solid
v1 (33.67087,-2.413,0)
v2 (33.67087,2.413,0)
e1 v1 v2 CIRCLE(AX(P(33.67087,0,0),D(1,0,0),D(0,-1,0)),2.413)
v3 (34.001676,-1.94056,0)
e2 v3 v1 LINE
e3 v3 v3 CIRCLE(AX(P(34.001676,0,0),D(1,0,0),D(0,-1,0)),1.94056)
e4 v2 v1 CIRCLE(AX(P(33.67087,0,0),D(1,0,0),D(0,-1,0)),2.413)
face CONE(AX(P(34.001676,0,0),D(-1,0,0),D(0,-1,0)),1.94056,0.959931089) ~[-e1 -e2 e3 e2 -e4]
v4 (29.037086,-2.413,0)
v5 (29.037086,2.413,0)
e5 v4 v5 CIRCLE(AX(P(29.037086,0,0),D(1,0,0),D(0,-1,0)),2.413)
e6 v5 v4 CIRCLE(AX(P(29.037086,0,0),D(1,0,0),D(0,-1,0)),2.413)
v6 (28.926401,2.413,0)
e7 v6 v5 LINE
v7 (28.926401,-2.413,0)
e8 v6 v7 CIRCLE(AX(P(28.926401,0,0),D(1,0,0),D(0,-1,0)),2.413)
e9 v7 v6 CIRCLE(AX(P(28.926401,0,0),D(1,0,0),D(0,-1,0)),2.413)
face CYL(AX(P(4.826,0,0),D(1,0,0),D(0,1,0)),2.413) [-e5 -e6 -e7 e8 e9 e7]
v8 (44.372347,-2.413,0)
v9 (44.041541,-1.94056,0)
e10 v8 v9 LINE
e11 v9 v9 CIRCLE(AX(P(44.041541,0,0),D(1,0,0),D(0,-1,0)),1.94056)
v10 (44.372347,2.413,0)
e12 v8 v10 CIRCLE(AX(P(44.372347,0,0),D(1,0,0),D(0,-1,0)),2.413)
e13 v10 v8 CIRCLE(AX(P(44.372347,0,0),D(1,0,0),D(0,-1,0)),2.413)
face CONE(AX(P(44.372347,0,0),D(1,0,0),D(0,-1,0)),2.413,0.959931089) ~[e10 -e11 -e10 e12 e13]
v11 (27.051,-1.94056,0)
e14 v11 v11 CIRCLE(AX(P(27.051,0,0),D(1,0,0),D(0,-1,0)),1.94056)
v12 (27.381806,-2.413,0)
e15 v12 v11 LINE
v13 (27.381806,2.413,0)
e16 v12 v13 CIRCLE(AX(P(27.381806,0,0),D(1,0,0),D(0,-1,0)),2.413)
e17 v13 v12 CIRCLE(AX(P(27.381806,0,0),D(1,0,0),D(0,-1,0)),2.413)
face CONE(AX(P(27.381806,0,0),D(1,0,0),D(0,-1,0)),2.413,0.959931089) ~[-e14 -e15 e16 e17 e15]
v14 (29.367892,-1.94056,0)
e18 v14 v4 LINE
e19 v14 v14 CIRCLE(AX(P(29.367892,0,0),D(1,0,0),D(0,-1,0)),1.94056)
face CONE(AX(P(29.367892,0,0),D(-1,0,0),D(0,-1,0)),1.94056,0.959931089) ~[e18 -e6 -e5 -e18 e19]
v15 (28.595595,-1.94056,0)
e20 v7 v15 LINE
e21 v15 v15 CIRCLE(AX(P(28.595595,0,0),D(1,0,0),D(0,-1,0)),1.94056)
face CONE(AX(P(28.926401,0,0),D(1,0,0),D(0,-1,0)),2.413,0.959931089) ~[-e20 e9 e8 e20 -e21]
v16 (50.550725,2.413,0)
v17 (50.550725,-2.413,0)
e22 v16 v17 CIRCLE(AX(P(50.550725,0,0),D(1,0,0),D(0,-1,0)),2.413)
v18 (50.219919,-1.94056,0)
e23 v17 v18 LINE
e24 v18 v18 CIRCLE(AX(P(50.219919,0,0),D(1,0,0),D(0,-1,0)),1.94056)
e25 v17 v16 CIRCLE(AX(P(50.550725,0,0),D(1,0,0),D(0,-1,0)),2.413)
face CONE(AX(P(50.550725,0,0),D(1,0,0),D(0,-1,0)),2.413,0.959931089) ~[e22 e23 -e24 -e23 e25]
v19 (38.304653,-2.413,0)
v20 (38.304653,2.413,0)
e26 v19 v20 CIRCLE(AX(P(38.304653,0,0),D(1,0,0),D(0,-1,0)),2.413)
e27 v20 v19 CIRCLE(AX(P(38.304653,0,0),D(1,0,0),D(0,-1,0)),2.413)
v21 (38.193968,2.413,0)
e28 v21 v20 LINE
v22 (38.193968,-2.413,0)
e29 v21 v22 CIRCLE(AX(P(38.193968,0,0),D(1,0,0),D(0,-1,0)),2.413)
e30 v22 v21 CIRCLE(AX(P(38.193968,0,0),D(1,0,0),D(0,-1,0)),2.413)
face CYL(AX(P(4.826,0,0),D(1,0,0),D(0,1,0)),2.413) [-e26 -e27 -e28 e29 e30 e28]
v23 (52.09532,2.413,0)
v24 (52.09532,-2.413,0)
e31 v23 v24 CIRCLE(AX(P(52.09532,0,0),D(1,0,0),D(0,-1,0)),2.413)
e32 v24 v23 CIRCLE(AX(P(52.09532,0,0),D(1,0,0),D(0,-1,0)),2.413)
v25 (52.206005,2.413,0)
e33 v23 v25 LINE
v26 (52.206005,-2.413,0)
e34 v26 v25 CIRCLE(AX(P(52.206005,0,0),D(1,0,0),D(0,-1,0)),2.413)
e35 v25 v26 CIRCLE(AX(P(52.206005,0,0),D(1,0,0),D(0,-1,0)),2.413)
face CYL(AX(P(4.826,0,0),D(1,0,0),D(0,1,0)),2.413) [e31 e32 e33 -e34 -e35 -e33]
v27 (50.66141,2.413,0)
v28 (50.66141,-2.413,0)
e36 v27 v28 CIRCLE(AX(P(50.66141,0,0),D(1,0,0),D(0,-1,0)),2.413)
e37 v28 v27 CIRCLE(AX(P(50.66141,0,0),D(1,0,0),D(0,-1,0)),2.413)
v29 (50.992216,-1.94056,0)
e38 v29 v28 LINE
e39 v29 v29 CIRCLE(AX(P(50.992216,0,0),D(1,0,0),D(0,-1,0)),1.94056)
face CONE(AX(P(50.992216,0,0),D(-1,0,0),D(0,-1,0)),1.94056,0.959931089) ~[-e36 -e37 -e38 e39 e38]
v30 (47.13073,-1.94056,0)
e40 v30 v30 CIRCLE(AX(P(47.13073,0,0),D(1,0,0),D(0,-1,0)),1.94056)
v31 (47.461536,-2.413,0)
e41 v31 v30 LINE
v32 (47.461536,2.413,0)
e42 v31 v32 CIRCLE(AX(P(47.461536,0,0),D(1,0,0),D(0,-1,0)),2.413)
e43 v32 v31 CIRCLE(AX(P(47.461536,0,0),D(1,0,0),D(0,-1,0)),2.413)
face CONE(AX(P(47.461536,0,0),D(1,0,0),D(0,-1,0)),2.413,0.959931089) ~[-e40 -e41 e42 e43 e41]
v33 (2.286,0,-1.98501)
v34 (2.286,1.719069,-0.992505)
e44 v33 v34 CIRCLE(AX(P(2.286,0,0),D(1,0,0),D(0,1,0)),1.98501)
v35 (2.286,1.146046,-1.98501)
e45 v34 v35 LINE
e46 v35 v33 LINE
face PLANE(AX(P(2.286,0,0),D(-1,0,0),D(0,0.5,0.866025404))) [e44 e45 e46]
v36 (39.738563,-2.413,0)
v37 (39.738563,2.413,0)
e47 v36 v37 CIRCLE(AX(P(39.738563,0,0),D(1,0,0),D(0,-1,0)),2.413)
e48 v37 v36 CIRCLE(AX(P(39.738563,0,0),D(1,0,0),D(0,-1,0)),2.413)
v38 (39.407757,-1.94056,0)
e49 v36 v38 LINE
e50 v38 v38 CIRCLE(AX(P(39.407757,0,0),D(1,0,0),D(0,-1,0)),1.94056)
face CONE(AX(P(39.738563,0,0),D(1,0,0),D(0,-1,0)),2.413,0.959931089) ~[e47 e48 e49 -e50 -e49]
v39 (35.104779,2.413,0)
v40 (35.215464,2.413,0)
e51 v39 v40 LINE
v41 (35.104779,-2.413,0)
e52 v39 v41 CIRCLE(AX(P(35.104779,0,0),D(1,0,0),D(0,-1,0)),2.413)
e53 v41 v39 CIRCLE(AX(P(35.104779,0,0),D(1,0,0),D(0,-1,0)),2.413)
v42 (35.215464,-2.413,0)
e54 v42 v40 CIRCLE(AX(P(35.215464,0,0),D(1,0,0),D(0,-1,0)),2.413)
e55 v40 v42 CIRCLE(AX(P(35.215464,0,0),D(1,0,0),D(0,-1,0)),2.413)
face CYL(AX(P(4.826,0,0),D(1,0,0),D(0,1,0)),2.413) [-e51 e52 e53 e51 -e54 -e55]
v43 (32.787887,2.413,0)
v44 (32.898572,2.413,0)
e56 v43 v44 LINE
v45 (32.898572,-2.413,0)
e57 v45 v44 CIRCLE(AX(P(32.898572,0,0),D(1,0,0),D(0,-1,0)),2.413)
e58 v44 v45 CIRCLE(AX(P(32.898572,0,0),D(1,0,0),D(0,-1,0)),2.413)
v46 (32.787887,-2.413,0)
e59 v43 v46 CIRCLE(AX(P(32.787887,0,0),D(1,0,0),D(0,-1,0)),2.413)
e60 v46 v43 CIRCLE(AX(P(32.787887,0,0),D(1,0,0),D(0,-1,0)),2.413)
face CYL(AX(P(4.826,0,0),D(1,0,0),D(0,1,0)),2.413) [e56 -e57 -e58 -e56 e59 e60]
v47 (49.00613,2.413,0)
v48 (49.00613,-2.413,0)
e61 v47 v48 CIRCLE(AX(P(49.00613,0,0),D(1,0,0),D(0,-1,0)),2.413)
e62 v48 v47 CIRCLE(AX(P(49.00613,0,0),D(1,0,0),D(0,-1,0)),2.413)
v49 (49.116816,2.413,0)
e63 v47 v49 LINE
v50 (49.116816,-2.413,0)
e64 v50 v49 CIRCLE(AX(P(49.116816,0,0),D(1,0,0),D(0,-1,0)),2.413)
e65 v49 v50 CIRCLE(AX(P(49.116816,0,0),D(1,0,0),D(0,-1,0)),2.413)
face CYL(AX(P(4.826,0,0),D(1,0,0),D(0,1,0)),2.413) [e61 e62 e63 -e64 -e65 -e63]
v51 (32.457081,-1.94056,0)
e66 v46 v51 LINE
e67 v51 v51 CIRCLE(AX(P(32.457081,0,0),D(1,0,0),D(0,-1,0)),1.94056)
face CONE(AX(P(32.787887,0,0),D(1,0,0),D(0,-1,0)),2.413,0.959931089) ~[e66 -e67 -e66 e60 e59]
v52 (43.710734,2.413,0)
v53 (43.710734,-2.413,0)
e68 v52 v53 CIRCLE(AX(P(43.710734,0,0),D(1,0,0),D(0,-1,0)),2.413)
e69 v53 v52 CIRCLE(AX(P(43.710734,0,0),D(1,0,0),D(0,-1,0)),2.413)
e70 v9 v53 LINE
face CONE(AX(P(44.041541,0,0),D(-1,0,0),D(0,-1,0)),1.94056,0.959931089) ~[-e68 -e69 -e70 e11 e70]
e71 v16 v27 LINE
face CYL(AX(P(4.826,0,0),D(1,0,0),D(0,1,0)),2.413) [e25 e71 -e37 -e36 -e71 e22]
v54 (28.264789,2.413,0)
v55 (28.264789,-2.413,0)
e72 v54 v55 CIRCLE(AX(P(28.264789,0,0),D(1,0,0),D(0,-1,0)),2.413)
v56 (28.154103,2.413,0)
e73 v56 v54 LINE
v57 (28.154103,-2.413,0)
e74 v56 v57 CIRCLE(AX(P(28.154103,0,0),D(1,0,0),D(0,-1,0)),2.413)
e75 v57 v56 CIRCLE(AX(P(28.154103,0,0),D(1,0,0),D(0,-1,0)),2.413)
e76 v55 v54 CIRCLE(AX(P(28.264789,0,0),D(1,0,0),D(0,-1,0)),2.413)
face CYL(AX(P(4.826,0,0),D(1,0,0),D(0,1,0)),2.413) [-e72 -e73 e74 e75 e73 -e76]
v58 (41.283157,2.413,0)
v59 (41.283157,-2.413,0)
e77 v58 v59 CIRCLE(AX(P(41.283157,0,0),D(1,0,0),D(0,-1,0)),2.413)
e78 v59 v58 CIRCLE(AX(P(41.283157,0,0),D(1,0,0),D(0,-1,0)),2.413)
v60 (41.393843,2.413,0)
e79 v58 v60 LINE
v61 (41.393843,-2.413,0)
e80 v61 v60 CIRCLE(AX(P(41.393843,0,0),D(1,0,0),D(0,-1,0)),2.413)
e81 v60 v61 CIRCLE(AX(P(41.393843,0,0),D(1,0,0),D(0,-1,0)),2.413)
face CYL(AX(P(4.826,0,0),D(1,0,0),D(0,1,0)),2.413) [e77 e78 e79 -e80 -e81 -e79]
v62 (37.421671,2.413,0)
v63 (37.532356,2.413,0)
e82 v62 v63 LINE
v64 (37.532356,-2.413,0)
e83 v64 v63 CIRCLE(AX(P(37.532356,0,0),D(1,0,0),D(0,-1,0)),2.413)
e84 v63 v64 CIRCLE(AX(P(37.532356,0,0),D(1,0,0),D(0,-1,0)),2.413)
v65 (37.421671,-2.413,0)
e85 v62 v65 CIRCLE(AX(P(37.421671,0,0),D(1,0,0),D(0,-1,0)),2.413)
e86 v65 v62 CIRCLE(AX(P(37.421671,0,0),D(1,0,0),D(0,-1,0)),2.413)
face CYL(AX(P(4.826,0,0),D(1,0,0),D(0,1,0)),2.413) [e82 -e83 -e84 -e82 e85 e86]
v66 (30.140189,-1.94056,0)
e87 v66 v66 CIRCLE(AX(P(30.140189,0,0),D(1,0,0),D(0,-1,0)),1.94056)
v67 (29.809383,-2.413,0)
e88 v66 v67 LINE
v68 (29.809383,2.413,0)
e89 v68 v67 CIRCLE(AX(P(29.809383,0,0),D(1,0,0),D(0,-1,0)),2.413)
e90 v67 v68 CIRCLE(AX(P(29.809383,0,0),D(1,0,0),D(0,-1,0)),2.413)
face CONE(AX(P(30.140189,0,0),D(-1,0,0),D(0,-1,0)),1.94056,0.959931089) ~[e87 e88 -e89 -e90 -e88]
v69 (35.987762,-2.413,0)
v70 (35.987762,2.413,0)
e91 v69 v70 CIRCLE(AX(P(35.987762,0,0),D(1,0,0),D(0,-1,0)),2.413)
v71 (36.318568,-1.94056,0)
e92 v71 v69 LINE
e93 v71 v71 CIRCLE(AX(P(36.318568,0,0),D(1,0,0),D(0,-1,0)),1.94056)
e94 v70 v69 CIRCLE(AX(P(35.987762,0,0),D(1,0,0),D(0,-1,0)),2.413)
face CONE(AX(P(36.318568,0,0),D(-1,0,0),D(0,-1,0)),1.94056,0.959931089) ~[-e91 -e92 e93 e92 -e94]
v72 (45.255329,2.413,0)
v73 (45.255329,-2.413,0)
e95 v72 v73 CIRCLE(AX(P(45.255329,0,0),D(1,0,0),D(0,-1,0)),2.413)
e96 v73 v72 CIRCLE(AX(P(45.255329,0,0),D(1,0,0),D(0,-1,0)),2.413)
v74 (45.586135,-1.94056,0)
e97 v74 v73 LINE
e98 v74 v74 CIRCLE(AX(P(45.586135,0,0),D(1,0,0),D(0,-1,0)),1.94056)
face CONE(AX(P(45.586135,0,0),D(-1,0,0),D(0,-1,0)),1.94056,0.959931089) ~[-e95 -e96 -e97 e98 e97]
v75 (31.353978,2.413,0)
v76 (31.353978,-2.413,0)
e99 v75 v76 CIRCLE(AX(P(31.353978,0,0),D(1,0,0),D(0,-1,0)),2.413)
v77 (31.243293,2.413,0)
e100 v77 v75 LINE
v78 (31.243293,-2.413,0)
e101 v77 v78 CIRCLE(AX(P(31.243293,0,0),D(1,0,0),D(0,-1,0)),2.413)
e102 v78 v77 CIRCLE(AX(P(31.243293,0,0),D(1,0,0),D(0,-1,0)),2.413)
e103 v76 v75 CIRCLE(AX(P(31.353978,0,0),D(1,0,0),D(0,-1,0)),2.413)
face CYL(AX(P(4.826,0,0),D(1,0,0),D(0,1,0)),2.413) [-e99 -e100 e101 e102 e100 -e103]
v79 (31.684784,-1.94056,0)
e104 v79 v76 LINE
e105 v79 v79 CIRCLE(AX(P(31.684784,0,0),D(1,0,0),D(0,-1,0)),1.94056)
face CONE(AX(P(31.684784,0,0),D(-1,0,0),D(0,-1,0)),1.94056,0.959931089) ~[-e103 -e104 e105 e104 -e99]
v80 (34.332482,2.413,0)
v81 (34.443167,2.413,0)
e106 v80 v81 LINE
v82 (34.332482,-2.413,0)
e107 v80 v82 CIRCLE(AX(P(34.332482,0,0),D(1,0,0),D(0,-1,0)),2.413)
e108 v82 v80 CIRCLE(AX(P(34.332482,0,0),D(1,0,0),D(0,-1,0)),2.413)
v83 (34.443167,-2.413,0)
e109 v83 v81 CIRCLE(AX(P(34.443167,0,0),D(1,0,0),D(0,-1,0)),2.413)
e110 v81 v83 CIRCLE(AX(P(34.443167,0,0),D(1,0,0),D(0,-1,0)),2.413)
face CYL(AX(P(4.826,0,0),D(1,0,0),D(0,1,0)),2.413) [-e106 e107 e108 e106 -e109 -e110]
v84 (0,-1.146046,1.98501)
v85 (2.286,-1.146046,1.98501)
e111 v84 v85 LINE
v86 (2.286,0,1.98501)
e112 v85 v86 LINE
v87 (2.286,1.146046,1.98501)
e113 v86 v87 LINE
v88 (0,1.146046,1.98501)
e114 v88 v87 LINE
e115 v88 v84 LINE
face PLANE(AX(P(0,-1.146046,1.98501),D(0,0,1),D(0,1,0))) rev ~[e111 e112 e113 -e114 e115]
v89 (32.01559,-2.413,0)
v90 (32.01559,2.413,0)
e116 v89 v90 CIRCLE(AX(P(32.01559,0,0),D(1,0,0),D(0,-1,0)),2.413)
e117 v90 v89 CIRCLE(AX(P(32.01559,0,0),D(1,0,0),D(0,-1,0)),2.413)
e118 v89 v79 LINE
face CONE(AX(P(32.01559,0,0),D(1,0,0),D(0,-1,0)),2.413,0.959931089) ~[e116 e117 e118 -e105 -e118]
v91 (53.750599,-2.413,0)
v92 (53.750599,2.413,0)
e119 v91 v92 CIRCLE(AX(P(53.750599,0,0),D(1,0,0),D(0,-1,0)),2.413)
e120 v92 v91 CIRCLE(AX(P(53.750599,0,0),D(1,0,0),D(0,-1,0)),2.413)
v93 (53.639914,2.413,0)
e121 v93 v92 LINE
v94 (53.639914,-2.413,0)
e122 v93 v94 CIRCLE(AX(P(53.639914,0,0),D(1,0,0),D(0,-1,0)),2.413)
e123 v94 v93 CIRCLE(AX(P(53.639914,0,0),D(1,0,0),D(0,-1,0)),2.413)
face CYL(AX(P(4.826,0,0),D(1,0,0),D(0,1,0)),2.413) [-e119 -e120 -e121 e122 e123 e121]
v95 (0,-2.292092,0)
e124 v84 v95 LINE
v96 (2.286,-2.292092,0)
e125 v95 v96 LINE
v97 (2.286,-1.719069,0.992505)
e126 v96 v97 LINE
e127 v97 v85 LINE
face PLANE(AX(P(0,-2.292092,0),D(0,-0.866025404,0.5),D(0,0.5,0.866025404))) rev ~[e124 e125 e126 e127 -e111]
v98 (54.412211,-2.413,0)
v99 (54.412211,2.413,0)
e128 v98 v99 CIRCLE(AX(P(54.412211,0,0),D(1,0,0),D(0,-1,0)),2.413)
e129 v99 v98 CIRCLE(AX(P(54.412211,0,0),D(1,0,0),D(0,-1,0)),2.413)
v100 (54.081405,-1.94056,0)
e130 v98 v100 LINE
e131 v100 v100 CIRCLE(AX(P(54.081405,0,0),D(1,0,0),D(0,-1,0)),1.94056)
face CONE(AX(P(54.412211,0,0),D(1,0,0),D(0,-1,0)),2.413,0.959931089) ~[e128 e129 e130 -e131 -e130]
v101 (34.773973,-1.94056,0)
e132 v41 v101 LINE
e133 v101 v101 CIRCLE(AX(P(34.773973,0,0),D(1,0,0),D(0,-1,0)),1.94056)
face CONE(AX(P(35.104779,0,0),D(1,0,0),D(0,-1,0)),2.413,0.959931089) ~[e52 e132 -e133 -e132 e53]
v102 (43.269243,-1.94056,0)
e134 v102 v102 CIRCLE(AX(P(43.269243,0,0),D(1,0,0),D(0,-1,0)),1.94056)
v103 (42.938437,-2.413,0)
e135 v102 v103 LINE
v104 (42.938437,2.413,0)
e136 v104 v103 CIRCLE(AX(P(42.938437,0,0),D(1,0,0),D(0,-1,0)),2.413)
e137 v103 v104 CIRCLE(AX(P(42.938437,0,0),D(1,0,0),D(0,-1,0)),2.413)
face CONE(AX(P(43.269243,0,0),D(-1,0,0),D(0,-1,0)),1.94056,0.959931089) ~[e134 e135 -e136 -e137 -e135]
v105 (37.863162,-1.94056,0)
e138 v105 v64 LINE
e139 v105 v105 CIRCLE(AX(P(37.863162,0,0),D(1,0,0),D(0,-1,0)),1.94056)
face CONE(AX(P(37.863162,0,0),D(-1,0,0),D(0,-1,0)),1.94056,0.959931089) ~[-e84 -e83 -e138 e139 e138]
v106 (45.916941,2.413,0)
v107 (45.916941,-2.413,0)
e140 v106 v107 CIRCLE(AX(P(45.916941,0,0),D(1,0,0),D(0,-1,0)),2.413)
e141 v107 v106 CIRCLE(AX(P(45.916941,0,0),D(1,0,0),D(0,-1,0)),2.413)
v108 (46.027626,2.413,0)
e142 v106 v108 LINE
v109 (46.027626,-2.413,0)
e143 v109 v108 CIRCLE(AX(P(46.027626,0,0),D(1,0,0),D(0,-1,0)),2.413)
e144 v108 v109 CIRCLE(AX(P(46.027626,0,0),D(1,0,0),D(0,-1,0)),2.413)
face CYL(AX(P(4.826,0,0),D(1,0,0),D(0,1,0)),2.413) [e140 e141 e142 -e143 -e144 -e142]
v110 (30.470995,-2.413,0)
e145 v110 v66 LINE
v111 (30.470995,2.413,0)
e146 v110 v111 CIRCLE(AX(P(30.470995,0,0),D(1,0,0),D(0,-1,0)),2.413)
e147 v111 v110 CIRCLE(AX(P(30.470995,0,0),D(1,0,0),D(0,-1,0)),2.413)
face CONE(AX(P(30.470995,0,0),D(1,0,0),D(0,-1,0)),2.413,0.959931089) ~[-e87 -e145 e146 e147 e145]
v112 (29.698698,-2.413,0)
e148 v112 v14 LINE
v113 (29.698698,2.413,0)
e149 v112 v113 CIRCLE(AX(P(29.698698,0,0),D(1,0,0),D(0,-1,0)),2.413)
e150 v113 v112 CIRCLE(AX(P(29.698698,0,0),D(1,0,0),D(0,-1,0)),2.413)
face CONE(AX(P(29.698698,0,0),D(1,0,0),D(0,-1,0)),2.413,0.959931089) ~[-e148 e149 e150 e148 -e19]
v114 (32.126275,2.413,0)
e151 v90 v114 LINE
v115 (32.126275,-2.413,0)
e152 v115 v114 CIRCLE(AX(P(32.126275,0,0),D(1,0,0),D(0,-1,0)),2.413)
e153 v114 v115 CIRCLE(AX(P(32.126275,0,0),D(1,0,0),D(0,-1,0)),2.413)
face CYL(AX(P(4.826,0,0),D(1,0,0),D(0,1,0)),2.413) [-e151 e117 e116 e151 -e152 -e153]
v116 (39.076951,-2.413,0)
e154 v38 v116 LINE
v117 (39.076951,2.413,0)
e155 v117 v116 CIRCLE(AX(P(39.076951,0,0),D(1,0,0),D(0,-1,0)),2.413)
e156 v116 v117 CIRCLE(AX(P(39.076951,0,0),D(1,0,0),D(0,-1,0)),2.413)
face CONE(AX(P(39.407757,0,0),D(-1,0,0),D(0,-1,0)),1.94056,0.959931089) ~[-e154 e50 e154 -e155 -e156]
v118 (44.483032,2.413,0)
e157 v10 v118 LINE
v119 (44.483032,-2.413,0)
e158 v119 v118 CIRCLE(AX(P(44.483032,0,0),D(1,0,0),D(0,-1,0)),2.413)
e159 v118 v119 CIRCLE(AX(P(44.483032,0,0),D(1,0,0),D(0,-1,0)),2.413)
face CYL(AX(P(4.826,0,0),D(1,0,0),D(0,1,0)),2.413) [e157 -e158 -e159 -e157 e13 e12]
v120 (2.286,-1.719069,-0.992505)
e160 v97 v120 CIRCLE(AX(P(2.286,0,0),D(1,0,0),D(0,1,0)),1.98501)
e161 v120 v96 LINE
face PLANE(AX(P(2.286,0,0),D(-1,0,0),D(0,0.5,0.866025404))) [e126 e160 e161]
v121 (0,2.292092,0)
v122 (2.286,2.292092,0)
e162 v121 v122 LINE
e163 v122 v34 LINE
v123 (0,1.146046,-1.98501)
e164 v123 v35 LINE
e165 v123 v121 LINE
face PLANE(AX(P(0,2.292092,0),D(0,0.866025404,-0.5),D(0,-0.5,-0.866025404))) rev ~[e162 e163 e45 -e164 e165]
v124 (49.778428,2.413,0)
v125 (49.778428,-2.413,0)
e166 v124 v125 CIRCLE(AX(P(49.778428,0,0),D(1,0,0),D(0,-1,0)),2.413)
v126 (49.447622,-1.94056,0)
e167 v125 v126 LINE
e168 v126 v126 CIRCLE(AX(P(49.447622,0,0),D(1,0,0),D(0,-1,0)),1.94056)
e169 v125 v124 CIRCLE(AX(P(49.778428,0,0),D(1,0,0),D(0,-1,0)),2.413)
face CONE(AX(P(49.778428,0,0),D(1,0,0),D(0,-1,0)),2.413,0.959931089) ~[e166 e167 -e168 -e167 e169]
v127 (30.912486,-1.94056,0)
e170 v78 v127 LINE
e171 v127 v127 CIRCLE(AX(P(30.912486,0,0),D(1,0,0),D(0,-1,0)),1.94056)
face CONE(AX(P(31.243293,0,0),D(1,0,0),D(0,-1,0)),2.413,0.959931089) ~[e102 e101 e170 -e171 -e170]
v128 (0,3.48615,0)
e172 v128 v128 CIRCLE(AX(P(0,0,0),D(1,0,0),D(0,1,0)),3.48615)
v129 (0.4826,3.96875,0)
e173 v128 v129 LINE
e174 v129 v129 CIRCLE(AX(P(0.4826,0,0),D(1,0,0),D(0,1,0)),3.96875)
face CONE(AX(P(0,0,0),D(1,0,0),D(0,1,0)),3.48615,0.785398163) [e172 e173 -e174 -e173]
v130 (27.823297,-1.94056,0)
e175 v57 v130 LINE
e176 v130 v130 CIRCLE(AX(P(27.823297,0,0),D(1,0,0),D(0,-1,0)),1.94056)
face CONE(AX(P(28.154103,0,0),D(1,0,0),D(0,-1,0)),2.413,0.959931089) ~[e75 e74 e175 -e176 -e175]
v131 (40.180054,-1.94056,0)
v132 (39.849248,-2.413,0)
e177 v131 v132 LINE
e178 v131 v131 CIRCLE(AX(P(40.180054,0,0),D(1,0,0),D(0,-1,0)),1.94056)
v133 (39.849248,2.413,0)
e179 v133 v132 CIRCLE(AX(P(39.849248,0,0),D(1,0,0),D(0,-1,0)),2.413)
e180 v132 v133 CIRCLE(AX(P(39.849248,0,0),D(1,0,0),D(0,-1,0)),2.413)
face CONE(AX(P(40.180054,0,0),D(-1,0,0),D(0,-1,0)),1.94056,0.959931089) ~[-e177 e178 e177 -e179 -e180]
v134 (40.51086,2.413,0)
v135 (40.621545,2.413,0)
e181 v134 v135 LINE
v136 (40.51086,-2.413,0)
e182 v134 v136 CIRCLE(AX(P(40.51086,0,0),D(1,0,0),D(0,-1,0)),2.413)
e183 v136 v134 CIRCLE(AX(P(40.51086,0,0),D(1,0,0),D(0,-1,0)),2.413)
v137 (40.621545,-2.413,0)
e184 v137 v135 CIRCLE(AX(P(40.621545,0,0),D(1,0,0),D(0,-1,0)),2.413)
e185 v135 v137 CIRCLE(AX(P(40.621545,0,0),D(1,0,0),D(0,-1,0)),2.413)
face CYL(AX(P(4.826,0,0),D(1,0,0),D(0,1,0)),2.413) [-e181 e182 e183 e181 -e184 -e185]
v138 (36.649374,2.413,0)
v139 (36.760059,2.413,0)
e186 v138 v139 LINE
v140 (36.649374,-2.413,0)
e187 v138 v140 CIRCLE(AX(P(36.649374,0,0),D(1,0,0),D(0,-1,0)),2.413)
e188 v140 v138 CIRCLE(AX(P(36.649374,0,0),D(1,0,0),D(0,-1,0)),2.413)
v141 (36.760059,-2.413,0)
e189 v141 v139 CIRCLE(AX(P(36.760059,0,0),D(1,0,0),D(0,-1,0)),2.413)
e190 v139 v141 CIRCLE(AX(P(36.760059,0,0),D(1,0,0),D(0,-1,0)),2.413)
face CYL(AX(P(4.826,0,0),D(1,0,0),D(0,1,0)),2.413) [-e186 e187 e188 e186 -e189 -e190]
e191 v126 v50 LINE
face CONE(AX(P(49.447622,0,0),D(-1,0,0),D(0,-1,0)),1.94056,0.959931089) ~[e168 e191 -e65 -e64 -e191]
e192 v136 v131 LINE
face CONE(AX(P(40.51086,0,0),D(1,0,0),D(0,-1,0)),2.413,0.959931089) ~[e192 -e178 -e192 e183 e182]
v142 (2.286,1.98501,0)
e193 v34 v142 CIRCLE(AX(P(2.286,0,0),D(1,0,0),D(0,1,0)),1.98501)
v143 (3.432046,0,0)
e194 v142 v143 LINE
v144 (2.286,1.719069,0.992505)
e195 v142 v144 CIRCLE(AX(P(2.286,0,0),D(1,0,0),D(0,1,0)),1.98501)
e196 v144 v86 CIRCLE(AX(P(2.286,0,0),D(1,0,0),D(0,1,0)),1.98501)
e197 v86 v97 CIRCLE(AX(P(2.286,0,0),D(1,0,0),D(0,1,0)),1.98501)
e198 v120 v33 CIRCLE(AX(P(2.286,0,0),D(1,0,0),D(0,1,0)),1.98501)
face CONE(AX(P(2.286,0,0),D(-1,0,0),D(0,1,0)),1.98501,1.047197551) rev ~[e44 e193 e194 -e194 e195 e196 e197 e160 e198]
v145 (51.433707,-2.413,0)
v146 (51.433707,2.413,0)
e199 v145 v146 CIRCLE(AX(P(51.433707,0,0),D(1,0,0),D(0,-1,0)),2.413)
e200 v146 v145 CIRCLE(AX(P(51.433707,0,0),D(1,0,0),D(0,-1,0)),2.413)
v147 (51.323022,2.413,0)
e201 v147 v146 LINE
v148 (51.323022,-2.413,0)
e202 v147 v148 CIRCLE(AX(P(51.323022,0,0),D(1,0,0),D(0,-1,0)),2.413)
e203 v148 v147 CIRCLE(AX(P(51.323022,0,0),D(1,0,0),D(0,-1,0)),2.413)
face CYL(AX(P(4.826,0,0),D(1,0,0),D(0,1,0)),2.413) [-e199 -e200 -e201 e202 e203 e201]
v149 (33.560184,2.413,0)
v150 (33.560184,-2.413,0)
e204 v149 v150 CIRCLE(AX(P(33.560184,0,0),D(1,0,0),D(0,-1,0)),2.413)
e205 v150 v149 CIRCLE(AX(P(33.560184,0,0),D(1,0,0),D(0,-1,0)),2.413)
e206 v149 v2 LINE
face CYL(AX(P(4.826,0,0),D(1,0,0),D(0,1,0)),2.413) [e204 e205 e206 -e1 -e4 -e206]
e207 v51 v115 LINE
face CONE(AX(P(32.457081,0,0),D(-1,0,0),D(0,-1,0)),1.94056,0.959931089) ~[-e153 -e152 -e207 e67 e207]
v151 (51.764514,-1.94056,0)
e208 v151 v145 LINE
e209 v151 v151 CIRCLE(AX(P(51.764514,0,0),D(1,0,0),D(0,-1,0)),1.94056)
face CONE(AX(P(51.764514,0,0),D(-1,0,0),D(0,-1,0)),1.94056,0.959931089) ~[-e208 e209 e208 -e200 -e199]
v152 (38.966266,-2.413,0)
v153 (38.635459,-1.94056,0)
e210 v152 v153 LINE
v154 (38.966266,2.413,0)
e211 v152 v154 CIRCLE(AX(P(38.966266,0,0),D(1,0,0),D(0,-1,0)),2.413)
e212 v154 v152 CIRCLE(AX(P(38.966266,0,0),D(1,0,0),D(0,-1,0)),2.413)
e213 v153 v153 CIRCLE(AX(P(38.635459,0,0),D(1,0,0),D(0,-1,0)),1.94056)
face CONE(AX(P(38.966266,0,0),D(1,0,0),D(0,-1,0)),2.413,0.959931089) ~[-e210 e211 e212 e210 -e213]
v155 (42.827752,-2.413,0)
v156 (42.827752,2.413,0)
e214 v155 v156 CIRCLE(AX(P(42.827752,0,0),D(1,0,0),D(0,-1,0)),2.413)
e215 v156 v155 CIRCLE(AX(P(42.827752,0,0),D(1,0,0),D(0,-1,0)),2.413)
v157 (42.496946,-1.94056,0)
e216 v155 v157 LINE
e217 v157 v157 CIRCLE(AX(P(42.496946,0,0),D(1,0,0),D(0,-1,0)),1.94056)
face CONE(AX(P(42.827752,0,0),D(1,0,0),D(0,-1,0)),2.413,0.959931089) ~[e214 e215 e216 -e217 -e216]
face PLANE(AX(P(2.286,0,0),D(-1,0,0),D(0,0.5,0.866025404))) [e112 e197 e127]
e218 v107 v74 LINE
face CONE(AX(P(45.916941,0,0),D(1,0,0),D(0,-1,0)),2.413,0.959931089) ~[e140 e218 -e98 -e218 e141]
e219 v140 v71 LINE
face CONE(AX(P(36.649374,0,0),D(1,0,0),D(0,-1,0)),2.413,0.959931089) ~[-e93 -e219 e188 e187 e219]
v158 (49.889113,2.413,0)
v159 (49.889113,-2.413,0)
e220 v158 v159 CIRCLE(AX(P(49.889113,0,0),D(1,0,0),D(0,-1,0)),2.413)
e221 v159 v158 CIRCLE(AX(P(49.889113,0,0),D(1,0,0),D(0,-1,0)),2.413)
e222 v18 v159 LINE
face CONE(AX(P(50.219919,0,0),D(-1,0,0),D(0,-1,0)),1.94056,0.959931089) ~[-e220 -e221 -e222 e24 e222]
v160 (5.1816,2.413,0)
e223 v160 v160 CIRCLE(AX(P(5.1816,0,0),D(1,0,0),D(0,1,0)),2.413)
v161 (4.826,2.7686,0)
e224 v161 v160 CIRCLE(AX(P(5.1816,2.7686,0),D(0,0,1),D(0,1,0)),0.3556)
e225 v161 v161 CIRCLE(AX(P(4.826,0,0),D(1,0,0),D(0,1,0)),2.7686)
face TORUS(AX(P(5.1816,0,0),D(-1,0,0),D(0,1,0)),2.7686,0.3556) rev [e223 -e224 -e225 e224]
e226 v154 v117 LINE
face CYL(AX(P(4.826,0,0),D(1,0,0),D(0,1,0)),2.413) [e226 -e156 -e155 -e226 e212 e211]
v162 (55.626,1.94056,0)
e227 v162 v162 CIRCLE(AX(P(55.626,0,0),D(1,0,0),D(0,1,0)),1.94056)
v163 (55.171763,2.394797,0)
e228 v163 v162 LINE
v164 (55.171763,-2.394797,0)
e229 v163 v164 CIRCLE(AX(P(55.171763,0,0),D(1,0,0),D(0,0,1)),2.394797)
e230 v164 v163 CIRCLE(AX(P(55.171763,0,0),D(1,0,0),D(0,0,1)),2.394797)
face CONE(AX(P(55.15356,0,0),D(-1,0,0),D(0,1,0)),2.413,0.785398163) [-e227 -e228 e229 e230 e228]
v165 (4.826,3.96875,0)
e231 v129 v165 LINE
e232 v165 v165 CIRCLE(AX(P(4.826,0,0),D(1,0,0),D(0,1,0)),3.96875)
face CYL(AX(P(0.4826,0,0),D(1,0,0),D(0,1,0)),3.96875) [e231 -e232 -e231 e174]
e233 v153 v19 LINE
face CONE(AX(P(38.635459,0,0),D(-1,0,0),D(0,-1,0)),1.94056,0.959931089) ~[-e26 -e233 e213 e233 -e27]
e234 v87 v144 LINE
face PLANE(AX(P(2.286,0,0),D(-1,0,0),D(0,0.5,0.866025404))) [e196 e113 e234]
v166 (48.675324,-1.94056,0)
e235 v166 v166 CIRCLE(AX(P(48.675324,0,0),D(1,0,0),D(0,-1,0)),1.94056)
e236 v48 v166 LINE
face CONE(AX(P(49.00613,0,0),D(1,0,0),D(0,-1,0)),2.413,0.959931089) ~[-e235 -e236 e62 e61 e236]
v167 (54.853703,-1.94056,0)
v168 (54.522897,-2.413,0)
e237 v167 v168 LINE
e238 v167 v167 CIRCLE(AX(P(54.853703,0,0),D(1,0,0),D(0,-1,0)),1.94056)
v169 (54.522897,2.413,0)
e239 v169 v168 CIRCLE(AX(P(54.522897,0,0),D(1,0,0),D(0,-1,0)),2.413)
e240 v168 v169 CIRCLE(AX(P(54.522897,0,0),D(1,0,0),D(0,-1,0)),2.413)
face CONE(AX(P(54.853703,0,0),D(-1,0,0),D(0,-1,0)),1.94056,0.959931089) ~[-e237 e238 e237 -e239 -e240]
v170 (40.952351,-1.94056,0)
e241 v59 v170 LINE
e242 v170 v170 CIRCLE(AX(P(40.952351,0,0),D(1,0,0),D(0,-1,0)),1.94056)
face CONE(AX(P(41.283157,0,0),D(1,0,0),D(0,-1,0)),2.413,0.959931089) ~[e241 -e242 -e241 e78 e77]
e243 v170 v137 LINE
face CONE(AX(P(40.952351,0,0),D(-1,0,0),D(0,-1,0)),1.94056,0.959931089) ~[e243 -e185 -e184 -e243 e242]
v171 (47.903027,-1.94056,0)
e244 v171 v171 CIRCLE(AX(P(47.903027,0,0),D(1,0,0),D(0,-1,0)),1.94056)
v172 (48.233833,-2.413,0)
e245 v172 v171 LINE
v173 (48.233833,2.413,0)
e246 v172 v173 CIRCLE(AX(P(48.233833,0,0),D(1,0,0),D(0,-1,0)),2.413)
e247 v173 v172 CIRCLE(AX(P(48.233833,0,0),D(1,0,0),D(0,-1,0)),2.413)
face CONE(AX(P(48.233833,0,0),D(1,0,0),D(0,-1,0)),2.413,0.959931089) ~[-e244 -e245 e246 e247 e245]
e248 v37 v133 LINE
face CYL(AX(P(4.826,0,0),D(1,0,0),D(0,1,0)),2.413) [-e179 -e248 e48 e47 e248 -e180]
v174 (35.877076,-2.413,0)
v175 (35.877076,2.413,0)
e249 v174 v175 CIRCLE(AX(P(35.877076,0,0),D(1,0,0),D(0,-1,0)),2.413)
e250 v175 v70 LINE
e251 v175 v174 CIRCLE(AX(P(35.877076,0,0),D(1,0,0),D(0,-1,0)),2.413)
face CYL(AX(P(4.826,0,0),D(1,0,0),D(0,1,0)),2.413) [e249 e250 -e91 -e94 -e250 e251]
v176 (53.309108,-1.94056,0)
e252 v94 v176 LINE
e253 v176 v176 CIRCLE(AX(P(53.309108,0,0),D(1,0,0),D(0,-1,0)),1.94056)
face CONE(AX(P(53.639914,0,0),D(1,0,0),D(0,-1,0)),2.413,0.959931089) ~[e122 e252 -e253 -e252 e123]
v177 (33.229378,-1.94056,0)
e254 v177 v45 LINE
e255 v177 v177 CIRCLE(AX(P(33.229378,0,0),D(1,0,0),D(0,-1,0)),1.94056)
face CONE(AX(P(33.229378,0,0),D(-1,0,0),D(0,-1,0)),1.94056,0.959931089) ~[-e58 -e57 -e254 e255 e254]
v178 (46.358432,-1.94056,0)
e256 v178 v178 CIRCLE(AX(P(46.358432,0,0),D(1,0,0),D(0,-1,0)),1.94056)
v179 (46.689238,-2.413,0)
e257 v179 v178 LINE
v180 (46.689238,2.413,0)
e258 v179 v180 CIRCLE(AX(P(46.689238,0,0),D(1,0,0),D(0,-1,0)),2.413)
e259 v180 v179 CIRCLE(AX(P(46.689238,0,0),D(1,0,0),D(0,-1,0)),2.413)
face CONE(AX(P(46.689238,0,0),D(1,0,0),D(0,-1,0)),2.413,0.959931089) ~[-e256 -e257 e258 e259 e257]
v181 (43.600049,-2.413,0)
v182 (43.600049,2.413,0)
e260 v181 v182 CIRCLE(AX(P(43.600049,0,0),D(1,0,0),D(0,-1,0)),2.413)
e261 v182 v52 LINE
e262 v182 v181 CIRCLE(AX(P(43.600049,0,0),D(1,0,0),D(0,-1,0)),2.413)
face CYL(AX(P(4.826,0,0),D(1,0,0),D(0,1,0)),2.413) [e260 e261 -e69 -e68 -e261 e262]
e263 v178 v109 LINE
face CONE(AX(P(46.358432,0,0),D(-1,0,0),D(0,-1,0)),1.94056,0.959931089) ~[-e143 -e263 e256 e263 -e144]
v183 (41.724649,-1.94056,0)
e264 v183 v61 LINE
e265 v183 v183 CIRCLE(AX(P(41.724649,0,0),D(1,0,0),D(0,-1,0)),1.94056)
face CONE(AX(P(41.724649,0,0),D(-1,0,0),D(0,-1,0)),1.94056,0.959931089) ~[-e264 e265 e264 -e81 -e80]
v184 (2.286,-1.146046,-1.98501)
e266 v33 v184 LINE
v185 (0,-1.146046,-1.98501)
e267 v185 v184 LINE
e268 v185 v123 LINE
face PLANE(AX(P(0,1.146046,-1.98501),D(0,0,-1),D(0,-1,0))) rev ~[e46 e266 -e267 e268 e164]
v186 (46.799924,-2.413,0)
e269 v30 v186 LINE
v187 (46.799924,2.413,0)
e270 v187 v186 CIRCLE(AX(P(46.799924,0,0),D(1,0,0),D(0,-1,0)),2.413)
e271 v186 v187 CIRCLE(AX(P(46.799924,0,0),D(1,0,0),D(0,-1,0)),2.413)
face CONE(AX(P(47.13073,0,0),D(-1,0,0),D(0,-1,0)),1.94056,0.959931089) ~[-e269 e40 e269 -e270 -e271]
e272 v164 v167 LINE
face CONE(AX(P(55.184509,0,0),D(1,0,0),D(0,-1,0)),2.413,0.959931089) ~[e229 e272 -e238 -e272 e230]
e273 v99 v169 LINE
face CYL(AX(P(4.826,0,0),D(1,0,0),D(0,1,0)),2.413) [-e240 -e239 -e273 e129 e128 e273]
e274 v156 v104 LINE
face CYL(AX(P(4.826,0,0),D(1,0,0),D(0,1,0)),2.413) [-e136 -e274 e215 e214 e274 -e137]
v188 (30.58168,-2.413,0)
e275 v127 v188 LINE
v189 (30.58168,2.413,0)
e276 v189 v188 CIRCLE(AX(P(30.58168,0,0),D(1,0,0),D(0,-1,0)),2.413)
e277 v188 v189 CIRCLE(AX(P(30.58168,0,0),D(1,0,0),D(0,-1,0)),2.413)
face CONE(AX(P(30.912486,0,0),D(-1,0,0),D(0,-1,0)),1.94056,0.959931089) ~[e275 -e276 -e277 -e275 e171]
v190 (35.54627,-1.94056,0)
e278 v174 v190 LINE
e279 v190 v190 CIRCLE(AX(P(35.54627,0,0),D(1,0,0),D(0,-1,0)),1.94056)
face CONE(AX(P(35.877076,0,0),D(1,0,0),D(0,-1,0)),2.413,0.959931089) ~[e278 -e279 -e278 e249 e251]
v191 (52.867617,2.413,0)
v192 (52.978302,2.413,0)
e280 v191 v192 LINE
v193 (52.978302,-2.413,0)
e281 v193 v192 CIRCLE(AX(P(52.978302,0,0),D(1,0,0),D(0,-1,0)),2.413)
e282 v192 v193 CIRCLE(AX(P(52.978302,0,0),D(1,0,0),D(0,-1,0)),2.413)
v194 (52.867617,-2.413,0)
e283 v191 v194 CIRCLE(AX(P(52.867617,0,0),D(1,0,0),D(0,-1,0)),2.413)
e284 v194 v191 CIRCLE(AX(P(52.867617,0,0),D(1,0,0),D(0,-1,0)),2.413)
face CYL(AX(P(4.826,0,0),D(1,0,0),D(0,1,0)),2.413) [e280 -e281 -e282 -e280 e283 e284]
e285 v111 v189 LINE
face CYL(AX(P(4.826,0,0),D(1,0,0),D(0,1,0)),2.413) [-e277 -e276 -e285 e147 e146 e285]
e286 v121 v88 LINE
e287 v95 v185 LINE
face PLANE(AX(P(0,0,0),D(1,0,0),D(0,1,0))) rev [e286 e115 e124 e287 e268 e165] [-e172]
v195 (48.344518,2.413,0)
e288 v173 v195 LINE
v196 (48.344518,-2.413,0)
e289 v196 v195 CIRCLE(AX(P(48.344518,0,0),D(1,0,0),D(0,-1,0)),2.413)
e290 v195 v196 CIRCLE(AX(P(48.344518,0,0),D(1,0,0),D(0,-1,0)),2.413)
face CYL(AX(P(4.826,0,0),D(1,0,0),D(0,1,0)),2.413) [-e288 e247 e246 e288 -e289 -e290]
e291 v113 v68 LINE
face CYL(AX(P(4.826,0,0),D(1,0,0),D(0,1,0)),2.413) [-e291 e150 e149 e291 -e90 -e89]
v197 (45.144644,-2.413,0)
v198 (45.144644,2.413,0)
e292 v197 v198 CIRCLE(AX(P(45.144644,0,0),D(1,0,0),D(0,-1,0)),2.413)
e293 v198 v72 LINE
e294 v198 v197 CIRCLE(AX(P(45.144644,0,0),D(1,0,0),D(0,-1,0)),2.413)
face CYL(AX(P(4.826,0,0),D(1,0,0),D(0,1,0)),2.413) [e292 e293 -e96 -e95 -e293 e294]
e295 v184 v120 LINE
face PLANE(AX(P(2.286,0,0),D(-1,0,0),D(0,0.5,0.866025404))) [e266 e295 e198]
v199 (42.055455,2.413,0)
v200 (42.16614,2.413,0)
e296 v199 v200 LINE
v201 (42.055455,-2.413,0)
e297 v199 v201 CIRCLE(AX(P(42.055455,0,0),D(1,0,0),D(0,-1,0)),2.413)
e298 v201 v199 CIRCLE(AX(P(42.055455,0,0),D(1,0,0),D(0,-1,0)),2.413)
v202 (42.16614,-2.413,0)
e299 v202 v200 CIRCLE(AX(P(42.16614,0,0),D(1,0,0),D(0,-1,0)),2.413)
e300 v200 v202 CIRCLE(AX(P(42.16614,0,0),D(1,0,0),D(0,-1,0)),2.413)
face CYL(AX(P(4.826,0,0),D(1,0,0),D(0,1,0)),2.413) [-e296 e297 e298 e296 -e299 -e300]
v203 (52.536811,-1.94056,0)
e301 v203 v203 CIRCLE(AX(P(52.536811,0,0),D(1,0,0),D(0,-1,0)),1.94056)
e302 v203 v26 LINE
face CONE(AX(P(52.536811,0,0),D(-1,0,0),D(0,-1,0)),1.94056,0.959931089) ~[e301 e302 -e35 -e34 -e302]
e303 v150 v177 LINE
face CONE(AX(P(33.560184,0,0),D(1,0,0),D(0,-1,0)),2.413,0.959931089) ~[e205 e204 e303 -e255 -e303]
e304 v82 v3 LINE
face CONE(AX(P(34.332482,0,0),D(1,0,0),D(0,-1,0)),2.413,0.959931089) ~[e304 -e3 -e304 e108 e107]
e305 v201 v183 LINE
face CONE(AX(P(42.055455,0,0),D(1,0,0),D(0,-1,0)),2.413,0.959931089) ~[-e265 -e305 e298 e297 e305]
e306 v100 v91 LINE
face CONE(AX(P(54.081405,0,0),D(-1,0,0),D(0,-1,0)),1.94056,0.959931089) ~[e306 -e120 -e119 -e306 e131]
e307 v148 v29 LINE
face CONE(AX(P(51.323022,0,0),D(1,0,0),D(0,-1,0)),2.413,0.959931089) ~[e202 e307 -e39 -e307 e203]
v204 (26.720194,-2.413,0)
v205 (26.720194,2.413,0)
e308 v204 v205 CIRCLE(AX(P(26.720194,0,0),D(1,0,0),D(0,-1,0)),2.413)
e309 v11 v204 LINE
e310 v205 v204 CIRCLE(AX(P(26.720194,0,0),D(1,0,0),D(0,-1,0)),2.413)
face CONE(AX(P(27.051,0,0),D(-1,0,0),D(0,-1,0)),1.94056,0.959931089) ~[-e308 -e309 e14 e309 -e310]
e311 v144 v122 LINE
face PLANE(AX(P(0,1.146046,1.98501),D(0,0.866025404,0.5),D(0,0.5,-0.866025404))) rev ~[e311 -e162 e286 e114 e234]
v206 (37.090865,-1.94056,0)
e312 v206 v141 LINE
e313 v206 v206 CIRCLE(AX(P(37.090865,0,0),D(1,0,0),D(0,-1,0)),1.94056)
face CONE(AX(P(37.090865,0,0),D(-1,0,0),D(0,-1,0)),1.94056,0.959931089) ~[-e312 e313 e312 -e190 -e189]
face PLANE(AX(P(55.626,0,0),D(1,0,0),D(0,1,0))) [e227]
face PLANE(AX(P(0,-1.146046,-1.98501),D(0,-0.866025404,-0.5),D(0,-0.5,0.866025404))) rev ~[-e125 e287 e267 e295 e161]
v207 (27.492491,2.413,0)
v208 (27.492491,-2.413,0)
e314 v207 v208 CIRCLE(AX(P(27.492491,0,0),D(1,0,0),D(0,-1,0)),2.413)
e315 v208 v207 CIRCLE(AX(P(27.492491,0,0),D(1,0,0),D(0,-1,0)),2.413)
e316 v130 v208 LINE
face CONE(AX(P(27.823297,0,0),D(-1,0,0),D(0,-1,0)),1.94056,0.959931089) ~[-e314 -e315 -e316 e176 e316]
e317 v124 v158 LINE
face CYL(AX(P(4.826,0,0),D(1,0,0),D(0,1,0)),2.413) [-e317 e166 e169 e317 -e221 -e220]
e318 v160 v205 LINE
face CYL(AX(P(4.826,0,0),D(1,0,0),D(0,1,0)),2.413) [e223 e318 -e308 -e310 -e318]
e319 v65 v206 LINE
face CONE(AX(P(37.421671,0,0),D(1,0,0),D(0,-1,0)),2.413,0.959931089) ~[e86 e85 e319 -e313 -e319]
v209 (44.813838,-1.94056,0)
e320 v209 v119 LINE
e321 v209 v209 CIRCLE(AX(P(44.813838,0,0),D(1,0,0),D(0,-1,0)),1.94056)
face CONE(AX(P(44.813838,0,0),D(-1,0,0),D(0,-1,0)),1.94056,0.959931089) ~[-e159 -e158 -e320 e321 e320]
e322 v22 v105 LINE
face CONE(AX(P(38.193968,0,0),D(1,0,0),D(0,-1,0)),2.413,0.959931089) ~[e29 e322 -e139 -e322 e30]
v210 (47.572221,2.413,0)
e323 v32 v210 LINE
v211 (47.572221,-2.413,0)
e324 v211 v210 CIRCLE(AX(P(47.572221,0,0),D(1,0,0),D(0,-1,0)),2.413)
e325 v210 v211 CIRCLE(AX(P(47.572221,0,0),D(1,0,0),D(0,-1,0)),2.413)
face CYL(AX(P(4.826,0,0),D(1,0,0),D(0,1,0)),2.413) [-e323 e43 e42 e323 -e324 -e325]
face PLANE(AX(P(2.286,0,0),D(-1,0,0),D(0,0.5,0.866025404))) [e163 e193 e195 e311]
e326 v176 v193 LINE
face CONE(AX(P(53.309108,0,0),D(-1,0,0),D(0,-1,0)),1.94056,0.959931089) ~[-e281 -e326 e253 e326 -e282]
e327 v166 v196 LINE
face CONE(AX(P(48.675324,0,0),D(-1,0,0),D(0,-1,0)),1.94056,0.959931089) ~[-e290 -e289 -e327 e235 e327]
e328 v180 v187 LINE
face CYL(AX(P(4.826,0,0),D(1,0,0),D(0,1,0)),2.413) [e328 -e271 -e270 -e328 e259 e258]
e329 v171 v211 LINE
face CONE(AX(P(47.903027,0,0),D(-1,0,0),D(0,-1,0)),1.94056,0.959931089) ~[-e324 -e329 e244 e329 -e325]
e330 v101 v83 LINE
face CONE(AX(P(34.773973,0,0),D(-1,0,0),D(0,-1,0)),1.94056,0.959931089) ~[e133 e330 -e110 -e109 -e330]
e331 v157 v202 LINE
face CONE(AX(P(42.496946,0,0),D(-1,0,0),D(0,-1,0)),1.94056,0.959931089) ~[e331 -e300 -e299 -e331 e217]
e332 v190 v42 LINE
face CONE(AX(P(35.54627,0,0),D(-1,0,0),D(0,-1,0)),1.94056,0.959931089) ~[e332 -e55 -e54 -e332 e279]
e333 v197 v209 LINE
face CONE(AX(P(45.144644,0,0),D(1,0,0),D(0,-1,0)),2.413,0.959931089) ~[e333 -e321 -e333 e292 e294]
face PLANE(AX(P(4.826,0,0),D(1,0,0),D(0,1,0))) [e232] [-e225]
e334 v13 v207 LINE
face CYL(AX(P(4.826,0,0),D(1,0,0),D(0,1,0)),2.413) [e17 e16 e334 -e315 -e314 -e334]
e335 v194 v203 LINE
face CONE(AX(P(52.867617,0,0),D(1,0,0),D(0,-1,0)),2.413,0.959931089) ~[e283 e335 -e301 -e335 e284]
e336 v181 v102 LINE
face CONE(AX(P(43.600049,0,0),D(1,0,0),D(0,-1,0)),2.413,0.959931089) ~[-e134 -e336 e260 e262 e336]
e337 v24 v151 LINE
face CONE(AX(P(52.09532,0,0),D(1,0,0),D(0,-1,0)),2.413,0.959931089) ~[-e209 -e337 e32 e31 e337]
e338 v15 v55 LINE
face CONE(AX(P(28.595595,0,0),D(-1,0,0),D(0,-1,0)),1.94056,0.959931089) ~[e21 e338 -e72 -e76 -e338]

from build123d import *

# Parameters (mm, degrees)
FILLET1_R       = 0.3556
HEX_2_DEPTH     = 2.286
THDSCHPAT_COUNT = 37
THDSCHPAT_PITCH = 0.772297297


with BuildPart() as part:
    # BodySke → Base-Revolve (revolve)
    with BuildSketch(Plane.XY):
        Polygon((0, 0), (0, 3.48615), (0.4826, 3.96875), (4.826, 3.96875), (4.826, 2.413), (55.15356, 2.413), (55.626, 1.94056), (55.626, 0), align=None)
    revolve(axis=Axis((-31.75, 0, 0), (1, 0, 0)))

    # Fillet1
    fillet1_edges = [part.edges().sort_by_distance(p)[0] for p in [
        (4.826, -2.413, 0),
    ]]
    fillet(fillet1_edges, radius=FILLET1_R)

    # Sketch2 → Hex-PreBroach (revolve, cut)
    with BuildSketch(Plane.XY):
        Polygon((0, 1.98501), (2.286, 1.98501), (3.432046058, 0), (0, 0), align=None)
    revolve(axis=Axis((0, 0, 0), (1, 0, 0)), mode=Mode.SUBTRACT)

    # Sketch3 → Hex 2 (cut)
    with BuildSketch(Plane(origin=(0, 0, 0), x_dir=(0, 0.5, 0.866025404), z_dir=(-1, 0, 0))):
        Polygon((1.146046058, 1.98501), (-1.146046058, 1.98501), (-2.292092116, 0), (-1.146046058, -1.98501), (1.146046058, -1.98501), (2.292092116, 0), align=None)
    extrude(amount=-HEX_2_DEPTH, mode=Mode.SUBTRACT)

    # ThdSchSke → ThreadSchematic (revolve, cut)
    with BuildSketch(Plane.XY):
        Polygon((27.051, -1.94056), (26.720193951, -2.413), (26.720193951, -3.01625), (27.381806049, -3.01625), (27.381806049, -2.413), align=None)
    threadschematic = revolve(axis=Axis((-3.175, 0, 0), (1, 0, 0)), mode=Mode.SUBTRACT)

    # ThdSchPat: ThreadSchematic ×37
    with Locations(*[(i * THDSCHPAT_PITCH, 0, 0) for i in range(1, THDSCHPAT_COUNT)]):
        add(threadschematic, mode=Mode.SUBTRACT)


solid = part.part
